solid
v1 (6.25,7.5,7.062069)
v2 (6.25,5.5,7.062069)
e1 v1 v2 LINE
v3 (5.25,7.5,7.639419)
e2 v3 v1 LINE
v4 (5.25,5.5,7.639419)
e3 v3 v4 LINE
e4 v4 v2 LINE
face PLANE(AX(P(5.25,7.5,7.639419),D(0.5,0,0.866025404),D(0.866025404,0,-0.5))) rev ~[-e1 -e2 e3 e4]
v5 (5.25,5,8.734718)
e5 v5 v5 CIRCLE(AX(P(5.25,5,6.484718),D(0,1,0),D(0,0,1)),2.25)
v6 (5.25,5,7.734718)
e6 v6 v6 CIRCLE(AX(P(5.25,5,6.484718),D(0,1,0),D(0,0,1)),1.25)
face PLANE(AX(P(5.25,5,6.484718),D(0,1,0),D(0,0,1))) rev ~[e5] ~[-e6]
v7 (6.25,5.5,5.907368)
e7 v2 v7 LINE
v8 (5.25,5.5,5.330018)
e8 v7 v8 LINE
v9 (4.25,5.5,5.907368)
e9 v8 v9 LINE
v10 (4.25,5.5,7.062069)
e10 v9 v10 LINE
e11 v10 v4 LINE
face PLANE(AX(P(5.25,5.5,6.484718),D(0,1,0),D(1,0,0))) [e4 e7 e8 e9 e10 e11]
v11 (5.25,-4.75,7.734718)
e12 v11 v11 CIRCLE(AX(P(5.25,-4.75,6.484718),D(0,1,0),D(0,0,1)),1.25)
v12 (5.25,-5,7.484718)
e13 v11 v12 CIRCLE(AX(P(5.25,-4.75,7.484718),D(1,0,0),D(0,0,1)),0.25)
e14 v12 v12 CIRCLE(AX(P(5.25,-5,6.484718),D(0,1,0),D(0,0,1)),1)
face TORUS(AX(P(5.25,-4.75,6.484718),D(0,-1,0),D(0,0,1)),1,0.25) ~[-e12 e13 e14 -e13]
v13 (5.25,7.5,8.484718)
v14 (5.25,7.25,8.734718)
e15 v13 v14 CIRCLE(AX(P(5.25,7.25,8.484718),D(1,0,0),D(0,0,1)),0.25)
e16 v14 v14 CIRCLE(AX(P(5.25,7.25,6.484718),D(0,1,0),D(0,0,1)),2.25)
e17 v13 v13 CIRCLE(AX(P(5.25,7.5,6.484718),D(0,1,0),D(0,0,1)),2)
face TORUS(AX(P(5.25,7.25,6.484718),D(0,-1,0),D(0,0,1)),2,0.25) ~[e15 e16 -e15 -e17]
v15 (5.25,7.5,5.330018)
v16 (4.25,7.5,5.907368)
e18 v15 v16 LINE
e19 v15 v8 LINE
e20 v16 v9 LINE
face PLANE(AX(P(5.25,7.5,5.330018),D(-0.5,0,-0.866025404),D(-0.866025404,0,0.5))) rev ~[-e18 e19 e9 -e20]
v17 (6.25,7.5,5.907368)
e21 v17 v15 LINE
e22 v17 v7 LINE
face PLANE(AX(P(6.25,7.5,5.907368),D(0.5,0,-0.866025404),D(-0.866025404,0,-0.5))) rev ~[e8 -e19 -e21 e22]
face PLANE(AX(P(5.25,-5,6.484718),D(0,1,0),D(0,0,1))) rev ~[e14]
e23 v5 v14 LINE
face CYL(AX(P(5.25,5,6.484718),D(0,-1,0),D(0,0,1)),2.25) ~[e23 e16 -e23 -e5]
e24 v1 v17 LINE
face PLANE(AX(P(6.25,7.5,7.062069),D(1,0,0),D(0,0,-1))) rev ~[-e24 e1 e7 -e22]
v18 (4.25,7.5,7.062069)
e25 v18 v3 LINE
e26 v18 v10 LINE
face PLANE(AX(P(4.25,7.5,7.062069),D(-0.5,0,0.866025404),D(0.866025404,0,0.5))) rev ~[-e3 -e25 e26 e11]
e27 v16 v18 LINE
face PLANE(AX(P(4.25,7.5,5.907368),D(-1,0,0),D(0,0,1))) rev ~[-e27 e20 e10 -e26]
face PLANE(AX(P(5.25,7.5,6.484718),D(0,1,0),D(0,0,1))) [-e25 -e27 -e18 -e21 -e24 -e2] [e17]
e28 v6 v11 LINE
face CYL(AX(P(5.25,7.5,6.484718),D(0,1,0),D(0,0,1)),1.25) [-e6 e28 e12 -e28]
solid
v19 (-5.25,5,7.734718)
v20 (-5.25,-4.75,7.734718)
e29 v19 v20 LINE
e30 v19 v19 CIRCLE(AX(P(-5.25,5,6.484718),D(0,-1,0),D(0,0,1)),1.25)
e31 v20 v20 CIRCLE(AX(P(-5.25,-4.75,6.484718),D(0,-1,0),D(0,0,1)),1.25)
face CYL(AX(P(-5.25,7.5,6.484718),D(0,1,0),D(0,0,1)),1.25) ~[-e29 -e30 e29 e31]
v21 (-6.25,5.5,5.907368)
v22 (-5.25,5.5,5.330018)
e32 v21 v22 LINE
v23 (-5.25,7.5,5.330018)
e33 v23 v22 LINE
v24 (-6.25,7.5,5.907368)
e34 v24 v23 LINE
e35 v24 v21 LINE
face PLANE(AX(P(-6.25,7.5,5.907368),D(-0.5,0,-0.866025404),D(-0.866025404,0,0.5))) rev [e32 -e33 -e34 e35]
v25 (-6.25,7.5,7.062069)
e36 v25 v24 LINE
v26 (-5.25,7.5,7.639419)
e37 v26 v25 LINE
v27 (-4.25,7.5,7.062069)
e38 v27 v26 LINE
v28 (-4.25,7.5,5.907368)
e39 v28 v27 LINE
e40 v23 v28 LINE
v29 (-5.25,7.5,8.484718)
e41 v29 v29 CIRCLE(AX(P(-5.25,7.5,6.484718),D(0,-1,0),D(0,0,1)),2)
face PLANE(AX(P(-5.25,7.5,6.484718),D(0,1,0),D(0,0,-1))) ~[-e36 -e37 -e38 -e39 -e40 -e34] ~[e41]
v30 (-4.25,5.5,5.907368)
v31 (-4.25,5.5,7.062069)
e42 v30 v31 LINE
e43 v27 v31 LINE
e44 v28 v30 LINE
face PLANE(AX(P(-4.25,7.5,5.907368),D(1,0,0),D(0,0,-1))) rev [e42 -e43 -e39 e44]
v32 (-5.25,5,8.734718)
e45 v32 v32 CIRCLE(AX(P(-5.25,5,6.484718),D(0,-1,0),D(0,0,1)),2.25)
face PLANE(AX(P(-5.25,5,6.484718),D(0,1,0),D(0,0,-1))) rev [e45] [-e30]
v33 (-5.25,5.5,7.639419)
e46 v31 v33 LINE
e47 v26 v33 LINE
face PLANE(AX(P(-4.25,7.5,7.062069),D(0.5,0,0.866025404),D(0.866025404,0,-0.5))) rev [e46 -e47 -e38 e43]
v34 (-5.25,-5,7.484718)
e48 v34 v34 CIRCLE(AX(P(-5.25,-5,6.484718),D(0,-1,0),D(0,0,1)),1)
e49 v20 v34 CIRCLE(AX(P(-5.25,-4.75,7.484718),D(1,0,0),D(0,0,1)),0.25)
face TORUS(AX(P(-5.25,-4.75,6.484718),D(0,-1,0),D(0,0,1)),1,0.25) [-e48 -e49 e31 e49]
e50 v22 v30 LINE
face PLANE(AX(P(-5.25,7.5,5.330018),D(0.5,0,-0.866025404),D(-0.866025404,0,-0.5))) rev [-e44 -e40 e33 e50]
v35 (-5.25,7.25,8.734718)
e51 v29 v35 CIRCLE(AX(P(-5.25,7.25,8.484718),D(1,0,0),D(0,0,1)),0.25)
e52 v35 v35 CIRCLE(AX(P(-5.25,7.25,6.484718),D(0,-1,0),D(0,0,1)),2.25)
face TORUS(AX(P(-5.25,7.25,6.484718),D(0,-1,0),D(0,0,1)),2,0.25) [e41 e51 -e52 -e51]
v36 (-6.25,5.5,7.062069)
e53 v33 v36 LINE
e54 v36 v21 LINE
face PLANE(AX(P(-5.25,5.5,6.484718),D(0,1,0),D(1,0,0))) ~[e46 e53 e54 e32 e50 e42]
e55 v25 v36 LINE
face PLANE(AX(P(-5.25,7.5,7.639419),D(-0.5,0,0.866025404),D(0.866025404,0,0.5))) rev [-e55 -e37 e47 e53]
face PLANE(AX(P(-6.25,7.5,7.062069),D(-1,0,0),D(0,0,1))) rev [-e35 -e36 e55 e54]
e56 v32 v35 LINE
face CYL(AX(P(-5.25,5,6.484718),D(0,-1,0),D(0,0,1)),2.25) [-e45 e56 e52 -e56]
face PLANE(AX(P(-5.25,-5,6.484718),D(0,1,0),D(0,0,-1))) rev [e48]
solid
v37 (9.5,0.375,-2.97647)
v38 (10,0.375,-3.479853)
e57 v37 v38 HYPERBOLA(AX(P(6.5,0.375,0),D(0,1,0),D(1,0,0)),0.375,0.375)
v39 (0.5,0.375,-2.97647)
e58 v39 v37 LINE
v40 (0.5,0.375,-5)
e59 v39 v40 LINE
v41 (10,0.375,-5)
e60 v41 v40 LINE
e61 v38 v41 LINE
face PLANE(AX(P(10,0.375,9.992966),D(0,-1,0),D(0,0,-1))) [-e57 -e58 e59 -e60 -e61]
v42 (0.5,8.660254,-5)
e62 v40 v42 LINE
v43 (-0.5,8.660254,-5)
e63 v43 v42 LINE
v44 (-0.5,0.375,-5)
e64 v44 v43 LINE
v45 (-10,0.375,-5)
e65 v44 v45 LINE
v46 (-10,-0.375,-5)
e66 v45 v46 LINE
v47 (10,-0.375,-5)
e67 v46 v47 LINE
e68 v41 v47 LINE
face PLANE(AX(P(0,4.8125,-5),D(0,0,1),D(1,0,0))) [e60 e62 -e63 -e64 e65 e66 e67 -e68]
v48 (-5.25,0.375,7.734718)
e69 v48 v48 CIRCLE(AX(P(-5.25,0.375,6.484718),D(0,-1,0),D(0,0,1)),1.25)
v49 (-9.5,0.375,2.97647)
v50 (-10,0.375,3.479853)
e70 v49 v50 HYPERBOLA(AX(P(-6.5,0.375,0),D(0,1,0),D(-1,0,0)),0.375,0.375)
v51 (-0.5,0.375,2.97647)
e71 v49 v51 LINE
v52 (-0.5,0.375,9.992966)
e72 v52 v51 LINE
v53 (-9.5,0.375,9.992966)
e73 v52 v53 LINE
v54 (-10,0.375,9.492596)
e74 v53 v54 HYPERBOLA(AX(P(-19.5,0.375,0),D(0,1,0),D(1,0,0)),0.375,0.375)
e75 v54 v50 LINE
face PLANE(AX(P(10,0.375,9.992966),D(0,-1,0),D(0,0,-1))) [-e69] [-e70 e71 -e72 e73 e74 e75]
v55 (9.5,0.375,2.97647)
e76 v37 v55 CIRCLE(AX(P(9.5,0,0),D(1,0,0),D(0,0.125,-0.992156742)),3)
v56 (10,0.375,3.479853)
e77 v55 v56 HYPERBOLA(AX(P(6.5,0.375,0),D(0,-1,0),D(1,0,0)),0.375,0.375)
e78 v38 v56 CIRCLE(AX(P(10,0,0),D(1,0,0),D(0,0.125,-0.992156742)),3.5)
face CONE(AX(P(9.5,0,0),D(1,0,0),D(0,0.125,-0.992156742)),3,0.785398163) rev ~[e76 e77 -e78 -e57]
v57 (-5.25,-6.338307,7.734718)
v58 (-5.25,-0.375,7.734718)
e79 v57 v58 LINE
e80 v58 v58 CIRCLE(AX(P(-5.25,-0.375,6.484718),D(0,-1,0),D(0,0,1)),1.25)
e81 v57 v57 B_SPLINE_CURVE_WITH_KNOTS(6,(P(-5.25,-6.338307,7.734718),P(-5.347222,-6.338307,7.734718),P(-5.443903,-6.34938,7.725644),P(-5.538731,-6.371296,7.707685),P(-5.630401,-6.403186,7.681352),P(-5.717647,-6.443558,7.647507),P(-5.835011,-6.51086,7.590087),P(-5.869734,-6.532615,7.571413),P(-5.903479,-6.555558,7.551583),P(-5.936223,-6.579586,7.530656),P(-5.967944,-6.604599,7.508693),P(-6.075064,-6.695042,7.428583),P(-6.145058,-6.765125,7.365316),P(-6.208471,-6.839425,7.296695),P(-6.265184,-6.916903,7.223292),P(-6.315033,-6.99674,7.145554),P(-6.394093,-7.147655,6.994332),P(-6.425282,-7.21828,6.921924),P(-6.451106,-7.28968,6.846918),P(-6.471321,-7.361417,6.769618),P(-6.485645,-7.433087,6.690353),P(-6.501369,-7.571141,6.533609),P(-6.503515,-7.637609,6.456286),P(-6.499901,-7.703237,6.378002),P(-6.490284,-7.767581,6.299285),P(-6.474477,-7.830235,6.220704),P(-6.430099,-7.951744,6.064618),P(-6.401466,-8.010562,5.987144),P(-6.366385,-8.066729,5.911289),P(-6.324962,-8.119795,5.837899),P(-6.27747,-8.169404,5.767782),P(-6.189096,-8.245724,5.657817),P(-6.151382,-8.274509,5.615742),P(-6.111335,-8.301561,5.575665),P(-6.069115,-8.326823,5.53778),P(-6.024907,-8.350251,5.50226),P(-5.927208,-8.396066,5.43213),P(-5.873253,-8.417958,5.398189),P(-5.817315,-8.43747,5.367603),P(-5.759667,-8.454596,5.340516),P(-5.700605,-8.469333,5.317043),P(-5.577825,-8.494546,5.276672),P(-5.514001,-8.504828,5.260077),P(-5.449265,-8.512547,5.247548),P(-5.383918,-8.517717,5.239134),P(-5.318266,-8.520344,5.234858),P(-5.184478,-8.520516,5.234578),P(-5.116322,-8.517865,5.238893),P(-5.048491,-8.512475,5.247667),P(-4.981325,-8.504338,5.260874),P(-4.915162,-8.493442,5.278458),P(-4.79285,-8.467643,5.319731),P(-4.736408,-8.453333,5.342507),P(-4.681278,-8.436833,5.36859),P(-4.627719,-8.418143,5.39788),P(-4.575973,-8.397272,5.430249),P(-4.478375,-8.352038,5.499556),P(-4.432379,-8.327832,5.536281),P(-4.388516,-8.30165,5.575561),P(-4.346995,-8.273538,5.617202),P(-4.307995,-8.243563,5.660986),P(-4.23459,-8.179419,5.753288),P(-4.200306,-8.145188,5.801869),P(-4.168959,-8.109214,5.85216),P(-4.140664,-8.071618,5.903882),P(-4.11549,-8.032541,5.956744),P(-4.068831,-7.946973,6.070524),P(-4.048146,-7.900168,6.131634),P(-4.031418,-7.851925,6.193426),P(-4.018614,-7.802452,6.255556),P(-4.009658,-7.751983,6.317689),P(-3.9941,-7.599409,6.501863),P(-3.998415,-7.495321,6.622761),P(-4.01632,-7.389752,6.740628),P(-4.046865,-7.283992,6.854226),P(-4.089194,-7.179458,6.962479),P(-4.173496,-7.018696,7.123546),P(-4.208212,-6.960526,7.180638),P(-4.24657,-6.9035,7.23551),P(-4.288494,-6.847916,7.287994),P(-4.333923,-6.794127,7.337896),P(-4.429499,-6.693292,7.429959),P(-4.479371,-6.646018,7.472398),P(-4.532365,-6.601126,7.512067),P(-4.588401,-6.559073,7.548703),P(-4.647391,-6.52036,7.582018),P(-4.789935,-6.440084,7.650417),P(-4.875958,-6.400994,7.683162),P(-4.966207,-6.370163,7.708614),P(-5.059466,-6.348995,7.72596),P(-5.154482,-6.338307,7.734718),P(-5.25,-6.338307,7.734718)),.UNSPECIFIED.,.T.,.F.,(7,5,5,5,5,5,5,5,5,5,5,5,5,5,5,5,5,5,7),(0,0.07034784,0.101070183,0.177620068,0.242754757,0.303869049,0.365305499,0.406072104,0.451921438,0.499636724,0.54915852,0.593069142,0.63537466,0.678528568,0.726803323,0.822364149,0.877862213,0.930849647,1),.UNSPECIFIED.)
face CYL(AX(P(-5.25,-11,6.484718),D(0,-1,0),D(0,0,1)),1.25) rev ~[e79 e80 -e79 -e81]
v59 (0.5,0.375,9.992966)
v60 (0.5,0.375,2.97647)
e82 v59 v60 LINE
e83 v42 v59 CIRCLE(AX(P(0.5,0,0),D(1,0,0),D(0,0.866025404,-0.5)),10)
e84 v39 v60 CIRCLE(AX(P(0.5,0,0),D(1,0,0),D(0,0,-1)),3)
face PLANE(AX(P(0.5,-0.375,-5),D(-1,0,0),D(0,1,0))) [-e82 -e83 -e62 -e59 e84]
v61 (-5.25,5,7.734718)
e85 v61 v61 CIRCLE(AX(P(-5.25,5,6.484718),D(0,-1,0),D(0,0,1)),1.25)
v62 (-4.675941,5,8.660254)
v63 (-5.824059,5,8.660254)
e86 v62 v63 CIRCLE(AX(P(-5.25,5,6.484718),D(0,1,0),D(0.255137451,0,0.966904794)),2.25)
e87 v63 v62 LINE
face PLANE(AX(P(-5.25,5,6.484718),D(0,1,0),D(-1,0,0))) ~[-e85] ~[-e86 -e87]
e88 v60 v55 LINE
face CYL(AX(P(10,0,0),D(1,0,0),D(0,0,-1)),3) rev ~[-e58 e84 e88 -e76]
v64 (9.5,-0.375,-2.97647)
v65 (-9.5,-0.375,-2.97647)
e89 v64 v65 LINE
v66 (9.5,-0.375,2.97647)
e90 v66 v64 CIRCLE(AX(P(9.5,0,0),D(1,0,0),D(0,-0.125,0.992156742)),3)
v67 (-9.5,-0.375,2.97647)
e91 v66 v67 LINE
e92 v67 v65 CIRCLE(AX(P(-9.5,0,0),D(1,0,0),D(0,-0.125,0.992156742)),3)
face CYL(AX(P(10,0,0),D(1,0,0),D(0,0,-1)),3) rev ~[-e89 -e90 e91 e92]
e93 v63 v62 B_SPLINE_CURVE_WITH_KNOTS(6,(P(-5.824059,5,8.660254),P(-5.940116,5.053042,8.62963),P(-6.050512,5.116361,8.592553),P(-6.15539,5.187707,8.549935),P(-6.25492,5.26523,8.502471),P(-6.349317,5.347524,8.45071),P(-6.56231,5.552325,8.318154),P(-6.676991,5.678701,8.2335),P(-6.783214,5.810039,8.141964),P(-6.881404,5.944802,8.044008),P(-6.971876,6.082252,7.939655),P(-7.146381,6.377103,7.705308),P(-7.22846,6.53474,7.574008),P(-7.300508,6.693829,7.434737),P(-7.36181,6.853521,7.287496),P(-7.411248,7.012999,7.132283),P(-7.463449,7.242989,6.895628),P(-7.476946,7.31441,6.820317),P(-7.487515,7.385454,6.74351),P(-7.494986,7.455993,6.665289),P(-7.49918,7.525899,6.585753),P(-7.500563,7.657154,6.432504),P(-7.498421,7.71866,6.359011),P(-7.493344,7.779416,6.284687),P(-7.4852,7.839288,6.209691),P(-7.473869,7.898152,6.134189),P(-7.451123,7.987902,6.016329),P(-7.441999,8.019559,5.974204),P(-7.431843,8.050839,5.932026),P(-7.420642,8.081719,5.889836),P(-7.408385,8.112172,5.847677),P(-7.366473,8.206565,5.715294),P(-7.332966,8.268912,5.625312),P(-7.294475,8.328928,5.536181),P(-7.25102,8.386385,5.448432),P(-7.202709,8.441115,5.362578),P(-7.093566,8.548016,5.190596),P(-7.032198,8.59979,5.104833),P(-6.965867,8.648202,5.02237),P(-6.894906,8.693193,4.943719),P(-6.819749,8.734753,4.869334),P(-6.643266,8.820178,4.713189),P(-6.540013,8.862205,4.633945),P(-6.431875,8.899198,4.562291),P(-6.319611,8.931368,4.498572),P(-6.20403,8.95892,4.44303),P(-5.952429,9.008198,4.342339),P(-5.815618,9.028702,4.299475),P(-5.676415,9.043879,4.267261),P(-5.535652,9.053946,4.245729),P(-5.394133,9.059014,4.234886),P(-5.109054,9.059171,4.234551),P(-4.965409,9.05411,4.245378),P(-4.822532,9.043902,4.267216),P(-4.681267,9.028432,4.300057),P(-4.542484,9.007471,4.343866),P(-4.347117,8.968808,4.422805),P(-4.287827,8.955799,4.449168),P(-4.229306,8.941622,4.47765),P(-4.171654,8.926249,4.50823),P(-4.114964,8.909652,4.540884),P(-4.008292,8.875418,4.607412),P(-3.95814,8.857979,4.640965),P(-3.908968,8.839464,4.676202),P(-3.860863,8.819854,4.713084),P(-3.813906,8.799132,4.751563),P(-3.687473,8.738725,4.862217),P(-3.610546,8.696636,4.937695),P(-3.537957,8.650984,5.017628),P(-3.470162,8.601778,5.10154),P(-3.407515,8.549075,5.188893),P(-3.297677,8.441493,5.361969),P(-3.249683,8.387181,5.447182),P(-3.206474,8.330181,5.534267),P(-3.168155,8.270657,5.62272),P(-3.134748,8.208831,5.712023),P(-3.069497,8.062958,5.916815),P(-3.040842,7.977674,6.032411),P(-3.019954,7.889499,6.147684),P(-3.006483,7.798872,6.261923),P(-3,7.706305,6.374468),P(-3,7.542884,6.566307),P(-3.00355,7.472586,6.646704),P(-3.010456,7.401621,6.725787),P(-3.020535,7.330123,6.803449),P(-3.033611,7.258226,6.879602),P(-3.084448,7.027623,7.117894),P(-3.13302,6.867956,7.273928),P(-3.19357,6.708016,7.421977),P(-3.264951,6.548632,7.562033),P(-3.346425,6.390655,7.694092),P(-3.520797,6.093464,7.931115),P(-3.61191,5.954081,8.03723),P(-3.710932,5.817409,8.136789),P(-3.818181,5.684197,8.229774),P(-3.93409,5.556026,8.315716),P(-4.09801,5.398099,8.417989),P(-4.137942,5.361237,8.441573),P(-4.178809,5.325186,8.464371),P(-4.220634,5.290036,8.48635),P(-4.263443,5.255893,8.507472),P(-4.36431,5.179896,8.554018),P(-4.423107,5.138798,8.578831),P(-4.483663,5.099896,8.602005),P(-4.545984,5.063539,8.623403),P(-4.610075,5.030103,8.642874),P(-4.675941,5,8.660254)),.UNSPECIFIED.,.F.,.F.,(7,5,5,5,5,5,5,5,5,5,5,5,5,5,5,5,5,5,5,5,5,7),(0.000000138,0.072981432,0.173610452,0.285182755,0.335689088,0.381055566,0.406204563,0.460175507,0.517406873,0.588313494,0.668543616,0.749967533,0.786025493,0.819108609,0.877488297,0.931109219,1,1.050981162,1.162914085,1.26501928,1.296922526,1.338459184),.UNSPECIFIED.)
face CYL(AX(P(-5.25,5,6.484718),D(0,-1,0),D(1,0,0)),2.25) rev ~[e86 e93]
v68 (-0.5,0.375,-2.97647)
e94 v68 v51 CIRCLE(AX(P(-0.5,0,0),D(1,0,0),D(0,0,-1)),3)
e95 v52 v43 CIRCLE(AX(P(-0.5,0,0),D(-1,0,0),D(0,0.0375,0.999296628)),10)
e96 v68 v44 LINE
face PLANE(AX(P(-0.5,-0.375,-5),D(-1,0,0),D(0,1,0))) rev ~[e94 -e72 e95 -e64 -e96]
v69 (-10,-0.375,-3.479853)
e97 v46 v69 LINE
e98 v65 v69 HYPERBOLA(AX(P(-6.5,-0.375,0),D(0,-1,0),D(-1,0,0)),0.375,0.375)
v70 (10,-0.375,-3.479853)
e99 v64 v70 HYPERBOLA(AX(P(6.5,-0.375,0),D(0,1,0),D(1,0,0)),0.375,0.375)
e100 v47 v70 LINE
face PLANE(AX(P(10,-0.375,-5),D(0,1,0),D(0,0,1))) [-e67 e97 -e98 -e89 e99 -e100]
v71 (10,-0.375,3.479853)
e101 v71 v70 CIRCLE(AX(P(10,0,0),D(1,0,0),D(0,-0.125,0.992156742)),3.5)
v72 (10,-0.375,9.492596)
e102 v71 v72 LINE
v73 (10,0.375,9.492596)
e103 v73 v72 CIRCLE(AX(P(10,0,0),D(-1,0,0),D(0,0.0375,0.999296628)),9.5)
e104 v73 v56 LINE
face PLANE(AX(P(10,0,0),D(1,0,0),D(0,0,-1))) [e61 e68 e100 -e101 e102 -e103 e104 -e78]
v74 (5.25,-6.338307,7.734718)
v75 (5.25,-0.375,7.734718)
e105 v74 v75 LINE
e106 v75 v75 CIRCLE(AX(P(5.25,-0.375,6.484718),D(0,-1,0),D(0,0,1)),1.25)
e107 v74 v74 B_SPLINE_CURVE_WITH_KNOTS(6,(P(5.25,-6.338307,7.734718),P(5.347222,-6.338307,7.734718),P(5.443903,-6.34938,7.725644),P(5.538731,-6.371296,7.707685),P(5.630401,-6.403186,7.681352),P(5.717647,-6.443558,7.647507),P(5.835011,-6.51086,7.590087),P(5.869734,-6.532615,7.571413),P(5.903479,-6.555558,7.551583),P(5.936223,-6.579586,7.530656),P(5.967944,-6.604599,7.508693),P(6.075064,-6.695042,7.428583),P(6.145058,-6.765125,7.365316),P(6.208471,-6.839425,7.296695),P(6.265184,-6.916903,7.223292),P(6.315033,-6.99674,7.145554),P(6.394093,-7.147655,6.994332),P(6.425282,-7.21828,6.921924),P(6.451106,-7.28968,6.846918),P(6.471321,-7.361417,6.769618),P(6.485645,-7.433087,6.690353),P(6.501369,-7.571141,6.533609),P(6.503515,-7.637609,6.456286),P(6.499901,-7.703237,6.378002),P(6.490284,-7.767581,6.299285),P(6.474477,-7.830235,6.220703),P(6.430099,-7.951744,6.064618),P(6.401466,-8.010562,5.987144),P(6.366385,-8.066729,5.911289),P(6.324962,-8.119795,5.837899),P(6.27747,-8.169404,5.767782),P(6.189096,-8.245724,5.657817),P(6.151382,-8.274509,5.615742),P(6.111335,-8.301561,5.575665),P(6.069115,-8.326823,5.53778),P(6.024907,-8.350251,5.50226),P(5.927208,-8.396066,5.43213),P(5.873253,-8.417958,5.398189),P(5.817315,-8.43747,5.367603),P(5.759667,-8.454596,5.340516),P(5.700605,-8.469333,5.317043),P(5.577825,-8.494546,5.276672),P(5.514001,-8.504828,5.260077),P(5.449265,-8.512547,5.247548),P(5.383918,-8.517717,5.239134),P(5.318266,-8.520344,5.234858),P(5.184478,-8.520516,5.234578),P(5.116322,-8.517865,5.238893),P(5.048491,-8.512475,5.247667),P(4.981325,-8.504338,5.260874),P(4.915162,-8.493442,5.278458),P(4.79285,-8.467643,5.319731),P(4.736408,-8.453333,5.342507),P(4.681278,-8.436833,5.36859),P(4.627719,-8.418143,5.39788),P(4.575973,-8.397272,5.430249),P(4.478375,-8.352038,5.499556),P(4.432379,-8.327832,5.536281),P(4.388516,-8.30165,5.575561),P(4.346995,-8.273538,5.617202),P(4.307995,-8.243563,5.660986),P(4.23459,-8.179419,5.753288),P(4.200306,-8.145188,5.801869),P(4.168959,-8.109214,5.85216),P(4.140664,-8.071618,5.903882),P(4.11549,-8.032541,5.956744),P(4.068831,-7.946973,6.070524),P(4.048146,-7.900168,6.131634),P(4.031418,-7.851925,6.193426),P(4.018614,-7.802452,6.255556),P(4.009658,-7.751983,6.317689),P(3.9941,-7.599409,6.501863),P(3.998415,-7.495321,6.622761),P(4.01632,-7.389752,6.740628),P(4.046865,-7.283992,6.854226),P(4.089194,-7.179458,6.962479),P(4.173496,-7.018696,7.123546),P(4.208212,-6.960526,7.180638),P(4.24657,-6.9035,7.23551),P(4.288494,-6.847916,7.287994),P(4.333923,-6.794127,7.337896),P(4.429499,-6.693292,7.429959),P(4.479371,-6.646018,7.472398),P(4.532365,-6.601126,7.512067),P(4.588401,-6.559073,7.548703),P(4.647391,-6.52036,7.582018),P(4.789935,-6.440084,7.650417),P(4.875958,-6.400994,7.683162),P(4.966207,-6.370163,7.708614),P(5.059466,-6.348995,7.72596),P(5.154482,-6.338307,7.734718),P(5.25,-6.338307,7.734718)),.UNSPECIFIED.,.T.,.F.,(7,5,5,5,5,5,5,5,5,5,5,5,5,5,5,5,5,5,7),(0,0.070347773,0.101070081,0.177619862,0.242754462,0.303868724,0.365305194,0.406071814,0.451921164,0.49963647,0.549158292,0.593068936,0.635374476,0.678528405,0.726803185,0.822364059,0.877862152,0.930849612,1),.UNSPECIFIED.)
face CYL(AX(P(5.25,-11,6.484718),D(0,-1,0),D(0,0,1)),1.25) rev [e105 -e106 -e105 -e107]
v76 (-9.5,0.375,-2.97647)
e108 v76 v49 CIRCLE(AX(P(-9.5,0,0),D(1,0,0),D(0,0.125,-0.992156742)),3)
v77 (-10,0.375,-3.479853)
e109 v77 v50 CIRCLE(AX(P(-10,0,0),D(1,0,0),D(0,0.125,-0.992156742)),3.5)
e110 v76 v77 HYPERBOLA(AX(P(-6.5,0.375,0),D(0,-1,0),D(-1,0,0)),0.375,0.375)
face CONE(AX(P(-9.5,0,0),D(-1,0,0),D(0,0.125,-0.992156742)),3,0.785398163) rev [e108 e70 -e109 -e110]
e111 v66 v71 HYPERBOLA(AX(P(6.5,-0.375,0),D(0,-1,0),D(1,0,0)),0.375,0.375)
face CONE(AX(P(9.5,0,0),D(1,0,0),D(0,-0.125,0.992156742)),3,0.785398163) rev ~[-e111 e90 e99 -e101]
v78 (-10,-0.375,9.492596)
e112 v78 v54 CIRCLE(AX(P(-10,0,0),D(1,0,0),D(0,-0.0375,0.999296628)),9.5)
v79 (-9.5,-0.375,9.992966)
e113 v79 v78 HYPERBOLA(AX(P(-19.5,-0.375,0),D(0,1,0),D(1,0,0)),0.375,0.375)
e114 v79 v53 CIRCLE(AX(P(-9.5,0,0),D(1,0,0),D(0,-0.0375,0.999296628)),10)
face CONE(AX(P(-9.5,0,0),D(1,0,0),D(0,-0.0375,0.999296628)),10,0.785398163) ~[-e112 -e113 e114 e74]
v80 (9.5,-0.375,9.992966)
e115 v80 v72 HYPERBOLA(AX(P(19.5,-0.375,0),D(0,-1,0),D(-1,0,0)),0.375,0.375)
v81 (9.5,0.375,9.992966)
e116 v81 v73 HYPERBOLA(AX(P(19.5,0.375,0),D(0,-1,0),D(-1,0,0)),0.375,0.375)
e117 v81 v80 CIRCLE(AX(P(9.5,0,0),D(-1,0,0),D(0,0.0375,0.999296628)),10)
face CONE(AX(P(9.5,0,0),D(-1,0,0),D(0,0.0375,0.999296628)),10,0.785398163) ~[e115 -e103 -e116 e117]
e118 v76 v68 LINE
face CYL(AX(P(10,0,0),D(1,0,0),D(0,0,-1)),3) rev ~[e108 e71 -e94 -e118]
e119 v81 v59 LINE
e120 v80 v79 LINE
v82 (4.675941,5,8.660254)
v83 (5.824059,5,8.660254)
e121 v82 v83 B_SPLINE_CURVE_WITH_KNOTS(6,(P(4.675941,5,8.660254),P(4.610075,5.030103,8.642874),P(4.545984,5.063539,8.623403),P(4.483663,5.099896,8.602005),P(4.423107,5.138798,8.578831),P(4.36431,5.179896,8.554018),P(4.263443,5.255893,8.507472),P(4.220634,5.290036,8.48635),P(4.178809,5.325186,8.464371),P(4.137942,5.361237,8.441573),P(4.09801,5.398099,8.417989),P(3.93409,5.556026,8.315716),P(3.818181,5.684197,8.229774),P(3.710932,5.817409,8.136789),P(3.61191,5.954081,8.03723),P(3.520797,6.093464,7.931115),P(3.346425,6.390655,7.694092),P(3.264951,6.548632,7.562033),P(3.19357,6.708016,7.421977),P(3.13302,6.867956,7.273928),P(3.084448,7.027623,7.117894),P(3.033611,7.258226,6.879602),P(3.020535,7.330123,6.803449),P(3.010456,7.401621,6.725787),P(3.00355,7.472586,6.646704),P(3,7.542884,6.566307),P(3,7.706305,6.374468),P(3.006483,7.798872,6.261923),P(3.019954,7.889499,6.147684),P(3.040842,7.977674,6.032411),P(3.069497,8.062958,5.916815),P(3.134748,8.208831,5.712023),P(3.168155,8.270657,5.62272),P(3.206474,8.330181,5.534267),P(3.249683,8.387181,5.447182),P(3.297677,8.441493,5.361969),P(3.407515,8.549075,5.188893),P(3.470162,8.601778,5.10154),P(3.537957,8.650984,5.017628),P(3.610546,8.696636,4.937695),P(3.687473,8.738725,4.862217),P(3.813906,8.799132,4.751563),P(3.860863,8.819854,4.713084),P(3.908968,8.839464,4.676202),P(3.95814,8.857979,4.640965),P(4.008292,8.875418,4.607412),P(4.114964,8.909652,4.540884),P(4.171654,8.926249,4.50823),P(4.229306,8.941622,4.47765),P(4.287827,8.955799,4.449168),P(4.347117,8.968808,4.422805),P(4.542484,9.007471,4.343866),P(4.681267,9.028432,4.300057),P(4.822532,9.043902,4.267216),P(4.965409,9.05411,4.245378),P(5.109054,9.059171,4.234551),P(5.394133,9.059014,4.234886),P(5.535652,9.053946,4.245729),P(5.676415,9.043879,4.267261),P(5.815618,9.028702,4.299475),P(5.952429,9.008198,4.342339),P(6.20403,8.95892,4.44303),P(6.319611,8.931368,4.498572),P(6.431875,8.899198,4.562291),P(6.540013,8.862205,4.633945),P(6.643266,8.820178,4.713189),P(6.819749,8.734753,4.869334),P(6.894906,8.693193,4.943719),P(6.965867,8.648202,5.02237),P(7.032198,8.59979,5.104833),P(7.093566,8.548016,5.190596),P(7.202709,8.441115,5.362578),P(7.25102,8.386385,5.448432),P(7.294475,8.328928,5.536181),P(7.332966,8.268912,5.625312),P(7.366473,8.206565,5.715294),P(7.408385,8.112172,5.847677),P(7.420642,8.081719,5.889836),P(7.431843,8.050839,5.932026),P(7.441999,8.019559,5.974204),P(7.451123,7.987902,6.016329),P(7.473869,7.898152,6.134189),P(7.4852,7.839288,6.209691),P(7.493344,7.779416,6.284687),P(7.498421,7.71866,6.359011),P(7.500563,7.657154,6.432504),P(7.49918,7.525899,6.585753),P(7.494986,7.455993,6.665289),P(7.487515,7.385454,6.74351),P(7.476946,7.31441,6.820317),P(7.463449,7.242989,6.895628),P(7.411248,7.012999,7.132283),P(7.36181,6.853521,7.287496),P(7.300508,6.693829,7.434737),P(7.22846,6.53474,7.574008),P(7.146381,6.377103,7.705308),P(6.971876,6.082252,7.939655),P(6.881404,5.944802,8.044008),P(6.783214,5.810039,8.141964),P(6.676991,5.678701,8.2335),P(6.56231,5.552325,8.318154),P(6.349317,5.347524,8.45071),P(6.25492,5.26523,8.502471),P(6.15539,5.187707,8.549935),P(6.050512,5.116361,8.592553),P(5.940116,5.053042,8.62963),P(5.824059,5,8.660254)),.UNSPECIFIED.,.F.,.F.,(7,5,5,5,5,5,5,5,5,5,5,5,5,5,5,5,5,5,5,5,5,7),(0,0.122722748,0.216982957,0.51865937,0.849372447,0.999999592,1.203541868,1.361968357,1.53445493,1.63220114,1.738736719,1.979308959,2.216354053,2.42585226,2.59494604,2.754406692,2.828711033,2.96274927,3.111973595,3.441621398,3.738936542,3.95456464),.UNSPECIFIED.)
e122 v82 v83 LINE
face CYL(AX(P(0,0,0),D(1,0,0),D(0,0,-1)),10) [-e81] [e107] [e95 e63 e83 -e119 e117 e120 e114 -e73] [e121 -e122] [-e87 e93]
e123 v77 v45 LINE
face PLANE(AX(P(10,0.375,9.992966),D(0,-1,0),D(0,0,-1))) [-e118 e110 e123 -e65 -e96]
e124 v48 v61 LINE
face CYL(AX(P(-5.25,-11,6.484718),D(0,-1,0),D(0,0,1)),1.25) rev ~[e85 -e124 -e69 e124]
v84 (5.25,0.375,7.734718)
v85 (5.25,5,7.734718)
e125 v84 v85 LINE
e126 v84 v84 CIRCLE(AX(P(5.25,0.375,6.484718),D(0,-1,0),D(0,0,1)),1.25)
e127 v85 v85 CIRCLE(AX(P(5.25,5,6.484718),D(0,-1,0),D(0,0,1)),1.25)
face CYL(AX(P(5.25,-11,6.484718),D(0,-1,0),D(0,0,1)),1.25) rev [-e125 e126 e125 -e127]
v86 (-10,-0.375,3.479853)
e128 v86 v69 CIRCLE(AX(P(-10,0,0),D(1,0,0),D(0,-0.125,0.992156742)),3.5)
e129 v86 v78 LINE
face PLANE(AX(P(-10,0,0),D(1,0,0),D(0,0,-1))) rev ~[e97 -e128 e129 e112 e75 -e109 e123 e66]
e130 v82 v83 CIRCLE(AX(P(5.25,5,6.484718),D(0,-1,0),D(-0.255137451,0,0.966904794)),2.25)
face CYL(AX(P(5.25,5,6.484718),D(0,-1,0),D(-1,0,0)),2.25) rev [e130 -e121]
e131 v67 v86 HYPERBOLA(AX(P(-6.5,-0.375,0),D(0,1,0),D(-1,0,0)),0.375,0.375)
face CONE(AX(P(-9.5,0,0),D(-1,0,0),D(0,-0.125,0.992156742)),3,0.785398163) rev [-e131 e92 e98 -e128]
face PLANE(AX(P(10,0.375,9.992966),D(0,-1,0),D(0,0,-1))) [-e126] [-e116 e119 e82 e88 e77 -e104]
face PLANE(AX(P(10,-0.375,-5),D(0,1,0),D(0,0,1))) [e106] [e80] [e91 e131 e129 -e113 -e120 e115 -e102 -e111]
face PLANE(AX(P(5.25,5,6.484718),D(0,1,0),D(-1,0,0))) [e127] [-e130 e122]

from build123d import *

# Parameters (mm, degrees)
SKETCH1_R           = 10
BOSS_EXTRUDE1_DEPTH = 10
SKETCH2_R           = 3
CUT_EXTRUDE1_DEPTH  = 21
CUT_EXTRUDE2_DEPTH  = 21
SKETCH6_W           = 1
SKETCH6_H           = 10.375
CUT_EXTRUDE3_DEPTH  = 15.992966276
CUT_EXTRUDE4_START  = -10.625
SKETCH7_R           = 1.25
CUT_EXTRUDE4_DEPTH  = 22
SKETCH8_R           = 2.25
CUT_EXTRUDE5_DEPTH  = 6.0000001
SKETCH9_R           = 2.25
BOSS_EXTRUDE2_DEPTH = 2.5
SKETCH10_R          = 1.25
BOSS_EXTRUDE3_DEPTH = 12.5
FILLET1_R           = 0.25
CUT_EXTRUDE6_DEPTH  = 2
CHAMFER1_SIZE       = 0.5


with BuildPart() as part:
    # Sketch1 → Boss-Extrude1 (new body, symmetric)
    with BuildSketch(Plane(origin=(0, 0, 0), x_dir=(0, 0, -1), z_dir=(1, 0, 0))):
        Circle(SKETCH1_R)
    extrude(amount=BOSS_EXTRUDE1_DEPTH, both=True)

    # Sketch2 → Cut-Extrude1 (cut, through all)
    with BuildSketch(Plane(origin=(10, 0, 0), x_dir=(0, 0, -1), z_dir=(1, 0, 0))):
        Circle(SKETCH2_R)
    extrude(amount=-CUT_EXTRUDE1_DEPTH, mode=Mode.SUBTRACT)

    # Sketch5 → Cut-Extrude2 (cut, through all)
    with BuildSketch(Plane(origin=(10, 0, 0), x_dir=(0, 0, -1), z_dir=(1, 0, 0))):
        with BuildLine():
            Line((-9.992966276, 0.375), (5, 0.375))
            Line((5, 0.375), (5, -0.375))
            Line((5, -0.375), (-9.992966276, -0.375))
            ThreePointArc((-9.992966276, -0.375), (-10, 0), (-9.992966276, 0.375))
        make_face()
    extrude(amount=-CUT_EXTRUDE2_DEPTH, mode=Mode.SUBTRACT)

    # Sketch6 → Cut-Extrude3 (cut, through all)
    with BuildSketch(Plane.XY.offset(-5)):
        with Locations((0, 4.8125)):
            Rectangle(SKETCH6_W, SKETCH6_H)
    extrude(amount=CUT_EXTRUDE3_DEPTH, mode=Mode.SUBTRACT)

    # Sketch7 → Cut-Extrude4 (cut)
    with BuildSketch(Plane(origin=(0, -0.375, 0), x_dir=(1, 0, 0), z_dir=(0, 1, 0)).offset(CUT_EXTRUDE4_START)):
        with Locations(Location((5.25, -6.484718251, 0), (0, 0, 270))):  # turned: the seam where the file's is
            Circle(SKETCH7_R)
    cut_extrude4 = extrude(amount=CUT_EXTRUDE4_DEPTH, mode=Mode.SUBTRACT)

    # Sketch8 → Cut-Extrude5 (cut, through all)
    with BuildSketch(Plane(origin=(0, 5, 0), x_dir=(-1, 0, 0), z_dir=(0, 1, 0))):
        with Locations((-5.25, 6.484718251)):
            Circle(SKETCH8_R)
    cut_extrude5 = extrude(amount=CUT_EXTRUDE5_DEPTH, mode=Mode.SUBTRACT)

    # Mirror1: Cut-Extrude4, Cut-Extrude5 across plane
    add(cut_extrude4.mirror(Plane(origin=(0, 0, 0), x_dir=(0, 0, 1), z_dir=(1, 0, 0))), mode=Mode.SUBTRACT)
    add(cut_extrude5.mirror(Plane(origin=(0, 0, 0), x_dir=(0, 0, 1), z_dir=(1, 0, 0))), mode=Mode.SUBTRACT)

    # Chamfer1
    chamfer1_edges = [part.edges().sort_by_distance(p)[0] for p in [
        (-10, -3, 0),
        (10, -3, 0),
        (-10, 0, -10),
        (10, 0, -10),
        (-10, 3, 0),
        (10, 3, 0),
    ]]
    chamfer(chamfer1_edges, length=CHAMFER1_SIZE)


with BuildPart() as body_2:
    # Sketch9 → Boss-Extrude2 (new body)
    with BuildSketch(Plane(origin=(0, 5, 0), x_dir=(1, 0, 0), z_dir=(0, 1, 0))):
        with Locations(Location((5.25, -6.484718251, 0), (0, 0, 270))):  # turned: the seam where the file's is
            Circle(SKETCH9_R)
    extrude(amount=BOSS_EXTRUDE2_DEPTH)

    # Sketch10 → Boss-Extrude3 (add)
    with BuildSketch(Plane(origin=(0, 7.5, 0), x_dir=(1, 0, 0), z_dir=(0, 1, 0))):
        with Locations(Location((5.25, -6.484718251, 0), (0, 0, 270))):  # turned: the seam where the file's is
            Circle(SKETCH10_R)
    extrude(amount=-BOSS_EXTRUDE3_DEPTH)

    # Fillet1
    fillet1_edges = [body_2.edges().sort_by_distance(p)[0] for p in [
        (5.25, 7.5, 4.234718251),
        (5.25, -5, 5.234718251),
    ]]
    fillet(fillet1_edges, radius=FILLET1_R)

    # Sketch11 → Cut-Extrude6 (cut)
    with BuildSketch(Plane(origin=(0, 7.5, 0), x_dir=(1, 0, 0), z_dir=(0, 1, 0))):
        Polygon((5.25, -5.330017712), (4.25, -5.907367981), (4.25, -7.06206852), (5.25, -7.639418789), (6.25, -7.06206852), (6.25, -5.907367981), align=None)
    extrude(amount=-CUT_EXTRUDE6_DEPTH, mode=Mode.SUBTRACT)


with BuildPart() as body_3:
    # Mirror2: mirrored copy
    add(body_2.part.mirror(Plane(origin=(0, 0, 0), x_dir=(0, 0, 1), z_dir=(1, 0, 0))))


solid = Compound([part.part, body_2.part, body_3.part])
